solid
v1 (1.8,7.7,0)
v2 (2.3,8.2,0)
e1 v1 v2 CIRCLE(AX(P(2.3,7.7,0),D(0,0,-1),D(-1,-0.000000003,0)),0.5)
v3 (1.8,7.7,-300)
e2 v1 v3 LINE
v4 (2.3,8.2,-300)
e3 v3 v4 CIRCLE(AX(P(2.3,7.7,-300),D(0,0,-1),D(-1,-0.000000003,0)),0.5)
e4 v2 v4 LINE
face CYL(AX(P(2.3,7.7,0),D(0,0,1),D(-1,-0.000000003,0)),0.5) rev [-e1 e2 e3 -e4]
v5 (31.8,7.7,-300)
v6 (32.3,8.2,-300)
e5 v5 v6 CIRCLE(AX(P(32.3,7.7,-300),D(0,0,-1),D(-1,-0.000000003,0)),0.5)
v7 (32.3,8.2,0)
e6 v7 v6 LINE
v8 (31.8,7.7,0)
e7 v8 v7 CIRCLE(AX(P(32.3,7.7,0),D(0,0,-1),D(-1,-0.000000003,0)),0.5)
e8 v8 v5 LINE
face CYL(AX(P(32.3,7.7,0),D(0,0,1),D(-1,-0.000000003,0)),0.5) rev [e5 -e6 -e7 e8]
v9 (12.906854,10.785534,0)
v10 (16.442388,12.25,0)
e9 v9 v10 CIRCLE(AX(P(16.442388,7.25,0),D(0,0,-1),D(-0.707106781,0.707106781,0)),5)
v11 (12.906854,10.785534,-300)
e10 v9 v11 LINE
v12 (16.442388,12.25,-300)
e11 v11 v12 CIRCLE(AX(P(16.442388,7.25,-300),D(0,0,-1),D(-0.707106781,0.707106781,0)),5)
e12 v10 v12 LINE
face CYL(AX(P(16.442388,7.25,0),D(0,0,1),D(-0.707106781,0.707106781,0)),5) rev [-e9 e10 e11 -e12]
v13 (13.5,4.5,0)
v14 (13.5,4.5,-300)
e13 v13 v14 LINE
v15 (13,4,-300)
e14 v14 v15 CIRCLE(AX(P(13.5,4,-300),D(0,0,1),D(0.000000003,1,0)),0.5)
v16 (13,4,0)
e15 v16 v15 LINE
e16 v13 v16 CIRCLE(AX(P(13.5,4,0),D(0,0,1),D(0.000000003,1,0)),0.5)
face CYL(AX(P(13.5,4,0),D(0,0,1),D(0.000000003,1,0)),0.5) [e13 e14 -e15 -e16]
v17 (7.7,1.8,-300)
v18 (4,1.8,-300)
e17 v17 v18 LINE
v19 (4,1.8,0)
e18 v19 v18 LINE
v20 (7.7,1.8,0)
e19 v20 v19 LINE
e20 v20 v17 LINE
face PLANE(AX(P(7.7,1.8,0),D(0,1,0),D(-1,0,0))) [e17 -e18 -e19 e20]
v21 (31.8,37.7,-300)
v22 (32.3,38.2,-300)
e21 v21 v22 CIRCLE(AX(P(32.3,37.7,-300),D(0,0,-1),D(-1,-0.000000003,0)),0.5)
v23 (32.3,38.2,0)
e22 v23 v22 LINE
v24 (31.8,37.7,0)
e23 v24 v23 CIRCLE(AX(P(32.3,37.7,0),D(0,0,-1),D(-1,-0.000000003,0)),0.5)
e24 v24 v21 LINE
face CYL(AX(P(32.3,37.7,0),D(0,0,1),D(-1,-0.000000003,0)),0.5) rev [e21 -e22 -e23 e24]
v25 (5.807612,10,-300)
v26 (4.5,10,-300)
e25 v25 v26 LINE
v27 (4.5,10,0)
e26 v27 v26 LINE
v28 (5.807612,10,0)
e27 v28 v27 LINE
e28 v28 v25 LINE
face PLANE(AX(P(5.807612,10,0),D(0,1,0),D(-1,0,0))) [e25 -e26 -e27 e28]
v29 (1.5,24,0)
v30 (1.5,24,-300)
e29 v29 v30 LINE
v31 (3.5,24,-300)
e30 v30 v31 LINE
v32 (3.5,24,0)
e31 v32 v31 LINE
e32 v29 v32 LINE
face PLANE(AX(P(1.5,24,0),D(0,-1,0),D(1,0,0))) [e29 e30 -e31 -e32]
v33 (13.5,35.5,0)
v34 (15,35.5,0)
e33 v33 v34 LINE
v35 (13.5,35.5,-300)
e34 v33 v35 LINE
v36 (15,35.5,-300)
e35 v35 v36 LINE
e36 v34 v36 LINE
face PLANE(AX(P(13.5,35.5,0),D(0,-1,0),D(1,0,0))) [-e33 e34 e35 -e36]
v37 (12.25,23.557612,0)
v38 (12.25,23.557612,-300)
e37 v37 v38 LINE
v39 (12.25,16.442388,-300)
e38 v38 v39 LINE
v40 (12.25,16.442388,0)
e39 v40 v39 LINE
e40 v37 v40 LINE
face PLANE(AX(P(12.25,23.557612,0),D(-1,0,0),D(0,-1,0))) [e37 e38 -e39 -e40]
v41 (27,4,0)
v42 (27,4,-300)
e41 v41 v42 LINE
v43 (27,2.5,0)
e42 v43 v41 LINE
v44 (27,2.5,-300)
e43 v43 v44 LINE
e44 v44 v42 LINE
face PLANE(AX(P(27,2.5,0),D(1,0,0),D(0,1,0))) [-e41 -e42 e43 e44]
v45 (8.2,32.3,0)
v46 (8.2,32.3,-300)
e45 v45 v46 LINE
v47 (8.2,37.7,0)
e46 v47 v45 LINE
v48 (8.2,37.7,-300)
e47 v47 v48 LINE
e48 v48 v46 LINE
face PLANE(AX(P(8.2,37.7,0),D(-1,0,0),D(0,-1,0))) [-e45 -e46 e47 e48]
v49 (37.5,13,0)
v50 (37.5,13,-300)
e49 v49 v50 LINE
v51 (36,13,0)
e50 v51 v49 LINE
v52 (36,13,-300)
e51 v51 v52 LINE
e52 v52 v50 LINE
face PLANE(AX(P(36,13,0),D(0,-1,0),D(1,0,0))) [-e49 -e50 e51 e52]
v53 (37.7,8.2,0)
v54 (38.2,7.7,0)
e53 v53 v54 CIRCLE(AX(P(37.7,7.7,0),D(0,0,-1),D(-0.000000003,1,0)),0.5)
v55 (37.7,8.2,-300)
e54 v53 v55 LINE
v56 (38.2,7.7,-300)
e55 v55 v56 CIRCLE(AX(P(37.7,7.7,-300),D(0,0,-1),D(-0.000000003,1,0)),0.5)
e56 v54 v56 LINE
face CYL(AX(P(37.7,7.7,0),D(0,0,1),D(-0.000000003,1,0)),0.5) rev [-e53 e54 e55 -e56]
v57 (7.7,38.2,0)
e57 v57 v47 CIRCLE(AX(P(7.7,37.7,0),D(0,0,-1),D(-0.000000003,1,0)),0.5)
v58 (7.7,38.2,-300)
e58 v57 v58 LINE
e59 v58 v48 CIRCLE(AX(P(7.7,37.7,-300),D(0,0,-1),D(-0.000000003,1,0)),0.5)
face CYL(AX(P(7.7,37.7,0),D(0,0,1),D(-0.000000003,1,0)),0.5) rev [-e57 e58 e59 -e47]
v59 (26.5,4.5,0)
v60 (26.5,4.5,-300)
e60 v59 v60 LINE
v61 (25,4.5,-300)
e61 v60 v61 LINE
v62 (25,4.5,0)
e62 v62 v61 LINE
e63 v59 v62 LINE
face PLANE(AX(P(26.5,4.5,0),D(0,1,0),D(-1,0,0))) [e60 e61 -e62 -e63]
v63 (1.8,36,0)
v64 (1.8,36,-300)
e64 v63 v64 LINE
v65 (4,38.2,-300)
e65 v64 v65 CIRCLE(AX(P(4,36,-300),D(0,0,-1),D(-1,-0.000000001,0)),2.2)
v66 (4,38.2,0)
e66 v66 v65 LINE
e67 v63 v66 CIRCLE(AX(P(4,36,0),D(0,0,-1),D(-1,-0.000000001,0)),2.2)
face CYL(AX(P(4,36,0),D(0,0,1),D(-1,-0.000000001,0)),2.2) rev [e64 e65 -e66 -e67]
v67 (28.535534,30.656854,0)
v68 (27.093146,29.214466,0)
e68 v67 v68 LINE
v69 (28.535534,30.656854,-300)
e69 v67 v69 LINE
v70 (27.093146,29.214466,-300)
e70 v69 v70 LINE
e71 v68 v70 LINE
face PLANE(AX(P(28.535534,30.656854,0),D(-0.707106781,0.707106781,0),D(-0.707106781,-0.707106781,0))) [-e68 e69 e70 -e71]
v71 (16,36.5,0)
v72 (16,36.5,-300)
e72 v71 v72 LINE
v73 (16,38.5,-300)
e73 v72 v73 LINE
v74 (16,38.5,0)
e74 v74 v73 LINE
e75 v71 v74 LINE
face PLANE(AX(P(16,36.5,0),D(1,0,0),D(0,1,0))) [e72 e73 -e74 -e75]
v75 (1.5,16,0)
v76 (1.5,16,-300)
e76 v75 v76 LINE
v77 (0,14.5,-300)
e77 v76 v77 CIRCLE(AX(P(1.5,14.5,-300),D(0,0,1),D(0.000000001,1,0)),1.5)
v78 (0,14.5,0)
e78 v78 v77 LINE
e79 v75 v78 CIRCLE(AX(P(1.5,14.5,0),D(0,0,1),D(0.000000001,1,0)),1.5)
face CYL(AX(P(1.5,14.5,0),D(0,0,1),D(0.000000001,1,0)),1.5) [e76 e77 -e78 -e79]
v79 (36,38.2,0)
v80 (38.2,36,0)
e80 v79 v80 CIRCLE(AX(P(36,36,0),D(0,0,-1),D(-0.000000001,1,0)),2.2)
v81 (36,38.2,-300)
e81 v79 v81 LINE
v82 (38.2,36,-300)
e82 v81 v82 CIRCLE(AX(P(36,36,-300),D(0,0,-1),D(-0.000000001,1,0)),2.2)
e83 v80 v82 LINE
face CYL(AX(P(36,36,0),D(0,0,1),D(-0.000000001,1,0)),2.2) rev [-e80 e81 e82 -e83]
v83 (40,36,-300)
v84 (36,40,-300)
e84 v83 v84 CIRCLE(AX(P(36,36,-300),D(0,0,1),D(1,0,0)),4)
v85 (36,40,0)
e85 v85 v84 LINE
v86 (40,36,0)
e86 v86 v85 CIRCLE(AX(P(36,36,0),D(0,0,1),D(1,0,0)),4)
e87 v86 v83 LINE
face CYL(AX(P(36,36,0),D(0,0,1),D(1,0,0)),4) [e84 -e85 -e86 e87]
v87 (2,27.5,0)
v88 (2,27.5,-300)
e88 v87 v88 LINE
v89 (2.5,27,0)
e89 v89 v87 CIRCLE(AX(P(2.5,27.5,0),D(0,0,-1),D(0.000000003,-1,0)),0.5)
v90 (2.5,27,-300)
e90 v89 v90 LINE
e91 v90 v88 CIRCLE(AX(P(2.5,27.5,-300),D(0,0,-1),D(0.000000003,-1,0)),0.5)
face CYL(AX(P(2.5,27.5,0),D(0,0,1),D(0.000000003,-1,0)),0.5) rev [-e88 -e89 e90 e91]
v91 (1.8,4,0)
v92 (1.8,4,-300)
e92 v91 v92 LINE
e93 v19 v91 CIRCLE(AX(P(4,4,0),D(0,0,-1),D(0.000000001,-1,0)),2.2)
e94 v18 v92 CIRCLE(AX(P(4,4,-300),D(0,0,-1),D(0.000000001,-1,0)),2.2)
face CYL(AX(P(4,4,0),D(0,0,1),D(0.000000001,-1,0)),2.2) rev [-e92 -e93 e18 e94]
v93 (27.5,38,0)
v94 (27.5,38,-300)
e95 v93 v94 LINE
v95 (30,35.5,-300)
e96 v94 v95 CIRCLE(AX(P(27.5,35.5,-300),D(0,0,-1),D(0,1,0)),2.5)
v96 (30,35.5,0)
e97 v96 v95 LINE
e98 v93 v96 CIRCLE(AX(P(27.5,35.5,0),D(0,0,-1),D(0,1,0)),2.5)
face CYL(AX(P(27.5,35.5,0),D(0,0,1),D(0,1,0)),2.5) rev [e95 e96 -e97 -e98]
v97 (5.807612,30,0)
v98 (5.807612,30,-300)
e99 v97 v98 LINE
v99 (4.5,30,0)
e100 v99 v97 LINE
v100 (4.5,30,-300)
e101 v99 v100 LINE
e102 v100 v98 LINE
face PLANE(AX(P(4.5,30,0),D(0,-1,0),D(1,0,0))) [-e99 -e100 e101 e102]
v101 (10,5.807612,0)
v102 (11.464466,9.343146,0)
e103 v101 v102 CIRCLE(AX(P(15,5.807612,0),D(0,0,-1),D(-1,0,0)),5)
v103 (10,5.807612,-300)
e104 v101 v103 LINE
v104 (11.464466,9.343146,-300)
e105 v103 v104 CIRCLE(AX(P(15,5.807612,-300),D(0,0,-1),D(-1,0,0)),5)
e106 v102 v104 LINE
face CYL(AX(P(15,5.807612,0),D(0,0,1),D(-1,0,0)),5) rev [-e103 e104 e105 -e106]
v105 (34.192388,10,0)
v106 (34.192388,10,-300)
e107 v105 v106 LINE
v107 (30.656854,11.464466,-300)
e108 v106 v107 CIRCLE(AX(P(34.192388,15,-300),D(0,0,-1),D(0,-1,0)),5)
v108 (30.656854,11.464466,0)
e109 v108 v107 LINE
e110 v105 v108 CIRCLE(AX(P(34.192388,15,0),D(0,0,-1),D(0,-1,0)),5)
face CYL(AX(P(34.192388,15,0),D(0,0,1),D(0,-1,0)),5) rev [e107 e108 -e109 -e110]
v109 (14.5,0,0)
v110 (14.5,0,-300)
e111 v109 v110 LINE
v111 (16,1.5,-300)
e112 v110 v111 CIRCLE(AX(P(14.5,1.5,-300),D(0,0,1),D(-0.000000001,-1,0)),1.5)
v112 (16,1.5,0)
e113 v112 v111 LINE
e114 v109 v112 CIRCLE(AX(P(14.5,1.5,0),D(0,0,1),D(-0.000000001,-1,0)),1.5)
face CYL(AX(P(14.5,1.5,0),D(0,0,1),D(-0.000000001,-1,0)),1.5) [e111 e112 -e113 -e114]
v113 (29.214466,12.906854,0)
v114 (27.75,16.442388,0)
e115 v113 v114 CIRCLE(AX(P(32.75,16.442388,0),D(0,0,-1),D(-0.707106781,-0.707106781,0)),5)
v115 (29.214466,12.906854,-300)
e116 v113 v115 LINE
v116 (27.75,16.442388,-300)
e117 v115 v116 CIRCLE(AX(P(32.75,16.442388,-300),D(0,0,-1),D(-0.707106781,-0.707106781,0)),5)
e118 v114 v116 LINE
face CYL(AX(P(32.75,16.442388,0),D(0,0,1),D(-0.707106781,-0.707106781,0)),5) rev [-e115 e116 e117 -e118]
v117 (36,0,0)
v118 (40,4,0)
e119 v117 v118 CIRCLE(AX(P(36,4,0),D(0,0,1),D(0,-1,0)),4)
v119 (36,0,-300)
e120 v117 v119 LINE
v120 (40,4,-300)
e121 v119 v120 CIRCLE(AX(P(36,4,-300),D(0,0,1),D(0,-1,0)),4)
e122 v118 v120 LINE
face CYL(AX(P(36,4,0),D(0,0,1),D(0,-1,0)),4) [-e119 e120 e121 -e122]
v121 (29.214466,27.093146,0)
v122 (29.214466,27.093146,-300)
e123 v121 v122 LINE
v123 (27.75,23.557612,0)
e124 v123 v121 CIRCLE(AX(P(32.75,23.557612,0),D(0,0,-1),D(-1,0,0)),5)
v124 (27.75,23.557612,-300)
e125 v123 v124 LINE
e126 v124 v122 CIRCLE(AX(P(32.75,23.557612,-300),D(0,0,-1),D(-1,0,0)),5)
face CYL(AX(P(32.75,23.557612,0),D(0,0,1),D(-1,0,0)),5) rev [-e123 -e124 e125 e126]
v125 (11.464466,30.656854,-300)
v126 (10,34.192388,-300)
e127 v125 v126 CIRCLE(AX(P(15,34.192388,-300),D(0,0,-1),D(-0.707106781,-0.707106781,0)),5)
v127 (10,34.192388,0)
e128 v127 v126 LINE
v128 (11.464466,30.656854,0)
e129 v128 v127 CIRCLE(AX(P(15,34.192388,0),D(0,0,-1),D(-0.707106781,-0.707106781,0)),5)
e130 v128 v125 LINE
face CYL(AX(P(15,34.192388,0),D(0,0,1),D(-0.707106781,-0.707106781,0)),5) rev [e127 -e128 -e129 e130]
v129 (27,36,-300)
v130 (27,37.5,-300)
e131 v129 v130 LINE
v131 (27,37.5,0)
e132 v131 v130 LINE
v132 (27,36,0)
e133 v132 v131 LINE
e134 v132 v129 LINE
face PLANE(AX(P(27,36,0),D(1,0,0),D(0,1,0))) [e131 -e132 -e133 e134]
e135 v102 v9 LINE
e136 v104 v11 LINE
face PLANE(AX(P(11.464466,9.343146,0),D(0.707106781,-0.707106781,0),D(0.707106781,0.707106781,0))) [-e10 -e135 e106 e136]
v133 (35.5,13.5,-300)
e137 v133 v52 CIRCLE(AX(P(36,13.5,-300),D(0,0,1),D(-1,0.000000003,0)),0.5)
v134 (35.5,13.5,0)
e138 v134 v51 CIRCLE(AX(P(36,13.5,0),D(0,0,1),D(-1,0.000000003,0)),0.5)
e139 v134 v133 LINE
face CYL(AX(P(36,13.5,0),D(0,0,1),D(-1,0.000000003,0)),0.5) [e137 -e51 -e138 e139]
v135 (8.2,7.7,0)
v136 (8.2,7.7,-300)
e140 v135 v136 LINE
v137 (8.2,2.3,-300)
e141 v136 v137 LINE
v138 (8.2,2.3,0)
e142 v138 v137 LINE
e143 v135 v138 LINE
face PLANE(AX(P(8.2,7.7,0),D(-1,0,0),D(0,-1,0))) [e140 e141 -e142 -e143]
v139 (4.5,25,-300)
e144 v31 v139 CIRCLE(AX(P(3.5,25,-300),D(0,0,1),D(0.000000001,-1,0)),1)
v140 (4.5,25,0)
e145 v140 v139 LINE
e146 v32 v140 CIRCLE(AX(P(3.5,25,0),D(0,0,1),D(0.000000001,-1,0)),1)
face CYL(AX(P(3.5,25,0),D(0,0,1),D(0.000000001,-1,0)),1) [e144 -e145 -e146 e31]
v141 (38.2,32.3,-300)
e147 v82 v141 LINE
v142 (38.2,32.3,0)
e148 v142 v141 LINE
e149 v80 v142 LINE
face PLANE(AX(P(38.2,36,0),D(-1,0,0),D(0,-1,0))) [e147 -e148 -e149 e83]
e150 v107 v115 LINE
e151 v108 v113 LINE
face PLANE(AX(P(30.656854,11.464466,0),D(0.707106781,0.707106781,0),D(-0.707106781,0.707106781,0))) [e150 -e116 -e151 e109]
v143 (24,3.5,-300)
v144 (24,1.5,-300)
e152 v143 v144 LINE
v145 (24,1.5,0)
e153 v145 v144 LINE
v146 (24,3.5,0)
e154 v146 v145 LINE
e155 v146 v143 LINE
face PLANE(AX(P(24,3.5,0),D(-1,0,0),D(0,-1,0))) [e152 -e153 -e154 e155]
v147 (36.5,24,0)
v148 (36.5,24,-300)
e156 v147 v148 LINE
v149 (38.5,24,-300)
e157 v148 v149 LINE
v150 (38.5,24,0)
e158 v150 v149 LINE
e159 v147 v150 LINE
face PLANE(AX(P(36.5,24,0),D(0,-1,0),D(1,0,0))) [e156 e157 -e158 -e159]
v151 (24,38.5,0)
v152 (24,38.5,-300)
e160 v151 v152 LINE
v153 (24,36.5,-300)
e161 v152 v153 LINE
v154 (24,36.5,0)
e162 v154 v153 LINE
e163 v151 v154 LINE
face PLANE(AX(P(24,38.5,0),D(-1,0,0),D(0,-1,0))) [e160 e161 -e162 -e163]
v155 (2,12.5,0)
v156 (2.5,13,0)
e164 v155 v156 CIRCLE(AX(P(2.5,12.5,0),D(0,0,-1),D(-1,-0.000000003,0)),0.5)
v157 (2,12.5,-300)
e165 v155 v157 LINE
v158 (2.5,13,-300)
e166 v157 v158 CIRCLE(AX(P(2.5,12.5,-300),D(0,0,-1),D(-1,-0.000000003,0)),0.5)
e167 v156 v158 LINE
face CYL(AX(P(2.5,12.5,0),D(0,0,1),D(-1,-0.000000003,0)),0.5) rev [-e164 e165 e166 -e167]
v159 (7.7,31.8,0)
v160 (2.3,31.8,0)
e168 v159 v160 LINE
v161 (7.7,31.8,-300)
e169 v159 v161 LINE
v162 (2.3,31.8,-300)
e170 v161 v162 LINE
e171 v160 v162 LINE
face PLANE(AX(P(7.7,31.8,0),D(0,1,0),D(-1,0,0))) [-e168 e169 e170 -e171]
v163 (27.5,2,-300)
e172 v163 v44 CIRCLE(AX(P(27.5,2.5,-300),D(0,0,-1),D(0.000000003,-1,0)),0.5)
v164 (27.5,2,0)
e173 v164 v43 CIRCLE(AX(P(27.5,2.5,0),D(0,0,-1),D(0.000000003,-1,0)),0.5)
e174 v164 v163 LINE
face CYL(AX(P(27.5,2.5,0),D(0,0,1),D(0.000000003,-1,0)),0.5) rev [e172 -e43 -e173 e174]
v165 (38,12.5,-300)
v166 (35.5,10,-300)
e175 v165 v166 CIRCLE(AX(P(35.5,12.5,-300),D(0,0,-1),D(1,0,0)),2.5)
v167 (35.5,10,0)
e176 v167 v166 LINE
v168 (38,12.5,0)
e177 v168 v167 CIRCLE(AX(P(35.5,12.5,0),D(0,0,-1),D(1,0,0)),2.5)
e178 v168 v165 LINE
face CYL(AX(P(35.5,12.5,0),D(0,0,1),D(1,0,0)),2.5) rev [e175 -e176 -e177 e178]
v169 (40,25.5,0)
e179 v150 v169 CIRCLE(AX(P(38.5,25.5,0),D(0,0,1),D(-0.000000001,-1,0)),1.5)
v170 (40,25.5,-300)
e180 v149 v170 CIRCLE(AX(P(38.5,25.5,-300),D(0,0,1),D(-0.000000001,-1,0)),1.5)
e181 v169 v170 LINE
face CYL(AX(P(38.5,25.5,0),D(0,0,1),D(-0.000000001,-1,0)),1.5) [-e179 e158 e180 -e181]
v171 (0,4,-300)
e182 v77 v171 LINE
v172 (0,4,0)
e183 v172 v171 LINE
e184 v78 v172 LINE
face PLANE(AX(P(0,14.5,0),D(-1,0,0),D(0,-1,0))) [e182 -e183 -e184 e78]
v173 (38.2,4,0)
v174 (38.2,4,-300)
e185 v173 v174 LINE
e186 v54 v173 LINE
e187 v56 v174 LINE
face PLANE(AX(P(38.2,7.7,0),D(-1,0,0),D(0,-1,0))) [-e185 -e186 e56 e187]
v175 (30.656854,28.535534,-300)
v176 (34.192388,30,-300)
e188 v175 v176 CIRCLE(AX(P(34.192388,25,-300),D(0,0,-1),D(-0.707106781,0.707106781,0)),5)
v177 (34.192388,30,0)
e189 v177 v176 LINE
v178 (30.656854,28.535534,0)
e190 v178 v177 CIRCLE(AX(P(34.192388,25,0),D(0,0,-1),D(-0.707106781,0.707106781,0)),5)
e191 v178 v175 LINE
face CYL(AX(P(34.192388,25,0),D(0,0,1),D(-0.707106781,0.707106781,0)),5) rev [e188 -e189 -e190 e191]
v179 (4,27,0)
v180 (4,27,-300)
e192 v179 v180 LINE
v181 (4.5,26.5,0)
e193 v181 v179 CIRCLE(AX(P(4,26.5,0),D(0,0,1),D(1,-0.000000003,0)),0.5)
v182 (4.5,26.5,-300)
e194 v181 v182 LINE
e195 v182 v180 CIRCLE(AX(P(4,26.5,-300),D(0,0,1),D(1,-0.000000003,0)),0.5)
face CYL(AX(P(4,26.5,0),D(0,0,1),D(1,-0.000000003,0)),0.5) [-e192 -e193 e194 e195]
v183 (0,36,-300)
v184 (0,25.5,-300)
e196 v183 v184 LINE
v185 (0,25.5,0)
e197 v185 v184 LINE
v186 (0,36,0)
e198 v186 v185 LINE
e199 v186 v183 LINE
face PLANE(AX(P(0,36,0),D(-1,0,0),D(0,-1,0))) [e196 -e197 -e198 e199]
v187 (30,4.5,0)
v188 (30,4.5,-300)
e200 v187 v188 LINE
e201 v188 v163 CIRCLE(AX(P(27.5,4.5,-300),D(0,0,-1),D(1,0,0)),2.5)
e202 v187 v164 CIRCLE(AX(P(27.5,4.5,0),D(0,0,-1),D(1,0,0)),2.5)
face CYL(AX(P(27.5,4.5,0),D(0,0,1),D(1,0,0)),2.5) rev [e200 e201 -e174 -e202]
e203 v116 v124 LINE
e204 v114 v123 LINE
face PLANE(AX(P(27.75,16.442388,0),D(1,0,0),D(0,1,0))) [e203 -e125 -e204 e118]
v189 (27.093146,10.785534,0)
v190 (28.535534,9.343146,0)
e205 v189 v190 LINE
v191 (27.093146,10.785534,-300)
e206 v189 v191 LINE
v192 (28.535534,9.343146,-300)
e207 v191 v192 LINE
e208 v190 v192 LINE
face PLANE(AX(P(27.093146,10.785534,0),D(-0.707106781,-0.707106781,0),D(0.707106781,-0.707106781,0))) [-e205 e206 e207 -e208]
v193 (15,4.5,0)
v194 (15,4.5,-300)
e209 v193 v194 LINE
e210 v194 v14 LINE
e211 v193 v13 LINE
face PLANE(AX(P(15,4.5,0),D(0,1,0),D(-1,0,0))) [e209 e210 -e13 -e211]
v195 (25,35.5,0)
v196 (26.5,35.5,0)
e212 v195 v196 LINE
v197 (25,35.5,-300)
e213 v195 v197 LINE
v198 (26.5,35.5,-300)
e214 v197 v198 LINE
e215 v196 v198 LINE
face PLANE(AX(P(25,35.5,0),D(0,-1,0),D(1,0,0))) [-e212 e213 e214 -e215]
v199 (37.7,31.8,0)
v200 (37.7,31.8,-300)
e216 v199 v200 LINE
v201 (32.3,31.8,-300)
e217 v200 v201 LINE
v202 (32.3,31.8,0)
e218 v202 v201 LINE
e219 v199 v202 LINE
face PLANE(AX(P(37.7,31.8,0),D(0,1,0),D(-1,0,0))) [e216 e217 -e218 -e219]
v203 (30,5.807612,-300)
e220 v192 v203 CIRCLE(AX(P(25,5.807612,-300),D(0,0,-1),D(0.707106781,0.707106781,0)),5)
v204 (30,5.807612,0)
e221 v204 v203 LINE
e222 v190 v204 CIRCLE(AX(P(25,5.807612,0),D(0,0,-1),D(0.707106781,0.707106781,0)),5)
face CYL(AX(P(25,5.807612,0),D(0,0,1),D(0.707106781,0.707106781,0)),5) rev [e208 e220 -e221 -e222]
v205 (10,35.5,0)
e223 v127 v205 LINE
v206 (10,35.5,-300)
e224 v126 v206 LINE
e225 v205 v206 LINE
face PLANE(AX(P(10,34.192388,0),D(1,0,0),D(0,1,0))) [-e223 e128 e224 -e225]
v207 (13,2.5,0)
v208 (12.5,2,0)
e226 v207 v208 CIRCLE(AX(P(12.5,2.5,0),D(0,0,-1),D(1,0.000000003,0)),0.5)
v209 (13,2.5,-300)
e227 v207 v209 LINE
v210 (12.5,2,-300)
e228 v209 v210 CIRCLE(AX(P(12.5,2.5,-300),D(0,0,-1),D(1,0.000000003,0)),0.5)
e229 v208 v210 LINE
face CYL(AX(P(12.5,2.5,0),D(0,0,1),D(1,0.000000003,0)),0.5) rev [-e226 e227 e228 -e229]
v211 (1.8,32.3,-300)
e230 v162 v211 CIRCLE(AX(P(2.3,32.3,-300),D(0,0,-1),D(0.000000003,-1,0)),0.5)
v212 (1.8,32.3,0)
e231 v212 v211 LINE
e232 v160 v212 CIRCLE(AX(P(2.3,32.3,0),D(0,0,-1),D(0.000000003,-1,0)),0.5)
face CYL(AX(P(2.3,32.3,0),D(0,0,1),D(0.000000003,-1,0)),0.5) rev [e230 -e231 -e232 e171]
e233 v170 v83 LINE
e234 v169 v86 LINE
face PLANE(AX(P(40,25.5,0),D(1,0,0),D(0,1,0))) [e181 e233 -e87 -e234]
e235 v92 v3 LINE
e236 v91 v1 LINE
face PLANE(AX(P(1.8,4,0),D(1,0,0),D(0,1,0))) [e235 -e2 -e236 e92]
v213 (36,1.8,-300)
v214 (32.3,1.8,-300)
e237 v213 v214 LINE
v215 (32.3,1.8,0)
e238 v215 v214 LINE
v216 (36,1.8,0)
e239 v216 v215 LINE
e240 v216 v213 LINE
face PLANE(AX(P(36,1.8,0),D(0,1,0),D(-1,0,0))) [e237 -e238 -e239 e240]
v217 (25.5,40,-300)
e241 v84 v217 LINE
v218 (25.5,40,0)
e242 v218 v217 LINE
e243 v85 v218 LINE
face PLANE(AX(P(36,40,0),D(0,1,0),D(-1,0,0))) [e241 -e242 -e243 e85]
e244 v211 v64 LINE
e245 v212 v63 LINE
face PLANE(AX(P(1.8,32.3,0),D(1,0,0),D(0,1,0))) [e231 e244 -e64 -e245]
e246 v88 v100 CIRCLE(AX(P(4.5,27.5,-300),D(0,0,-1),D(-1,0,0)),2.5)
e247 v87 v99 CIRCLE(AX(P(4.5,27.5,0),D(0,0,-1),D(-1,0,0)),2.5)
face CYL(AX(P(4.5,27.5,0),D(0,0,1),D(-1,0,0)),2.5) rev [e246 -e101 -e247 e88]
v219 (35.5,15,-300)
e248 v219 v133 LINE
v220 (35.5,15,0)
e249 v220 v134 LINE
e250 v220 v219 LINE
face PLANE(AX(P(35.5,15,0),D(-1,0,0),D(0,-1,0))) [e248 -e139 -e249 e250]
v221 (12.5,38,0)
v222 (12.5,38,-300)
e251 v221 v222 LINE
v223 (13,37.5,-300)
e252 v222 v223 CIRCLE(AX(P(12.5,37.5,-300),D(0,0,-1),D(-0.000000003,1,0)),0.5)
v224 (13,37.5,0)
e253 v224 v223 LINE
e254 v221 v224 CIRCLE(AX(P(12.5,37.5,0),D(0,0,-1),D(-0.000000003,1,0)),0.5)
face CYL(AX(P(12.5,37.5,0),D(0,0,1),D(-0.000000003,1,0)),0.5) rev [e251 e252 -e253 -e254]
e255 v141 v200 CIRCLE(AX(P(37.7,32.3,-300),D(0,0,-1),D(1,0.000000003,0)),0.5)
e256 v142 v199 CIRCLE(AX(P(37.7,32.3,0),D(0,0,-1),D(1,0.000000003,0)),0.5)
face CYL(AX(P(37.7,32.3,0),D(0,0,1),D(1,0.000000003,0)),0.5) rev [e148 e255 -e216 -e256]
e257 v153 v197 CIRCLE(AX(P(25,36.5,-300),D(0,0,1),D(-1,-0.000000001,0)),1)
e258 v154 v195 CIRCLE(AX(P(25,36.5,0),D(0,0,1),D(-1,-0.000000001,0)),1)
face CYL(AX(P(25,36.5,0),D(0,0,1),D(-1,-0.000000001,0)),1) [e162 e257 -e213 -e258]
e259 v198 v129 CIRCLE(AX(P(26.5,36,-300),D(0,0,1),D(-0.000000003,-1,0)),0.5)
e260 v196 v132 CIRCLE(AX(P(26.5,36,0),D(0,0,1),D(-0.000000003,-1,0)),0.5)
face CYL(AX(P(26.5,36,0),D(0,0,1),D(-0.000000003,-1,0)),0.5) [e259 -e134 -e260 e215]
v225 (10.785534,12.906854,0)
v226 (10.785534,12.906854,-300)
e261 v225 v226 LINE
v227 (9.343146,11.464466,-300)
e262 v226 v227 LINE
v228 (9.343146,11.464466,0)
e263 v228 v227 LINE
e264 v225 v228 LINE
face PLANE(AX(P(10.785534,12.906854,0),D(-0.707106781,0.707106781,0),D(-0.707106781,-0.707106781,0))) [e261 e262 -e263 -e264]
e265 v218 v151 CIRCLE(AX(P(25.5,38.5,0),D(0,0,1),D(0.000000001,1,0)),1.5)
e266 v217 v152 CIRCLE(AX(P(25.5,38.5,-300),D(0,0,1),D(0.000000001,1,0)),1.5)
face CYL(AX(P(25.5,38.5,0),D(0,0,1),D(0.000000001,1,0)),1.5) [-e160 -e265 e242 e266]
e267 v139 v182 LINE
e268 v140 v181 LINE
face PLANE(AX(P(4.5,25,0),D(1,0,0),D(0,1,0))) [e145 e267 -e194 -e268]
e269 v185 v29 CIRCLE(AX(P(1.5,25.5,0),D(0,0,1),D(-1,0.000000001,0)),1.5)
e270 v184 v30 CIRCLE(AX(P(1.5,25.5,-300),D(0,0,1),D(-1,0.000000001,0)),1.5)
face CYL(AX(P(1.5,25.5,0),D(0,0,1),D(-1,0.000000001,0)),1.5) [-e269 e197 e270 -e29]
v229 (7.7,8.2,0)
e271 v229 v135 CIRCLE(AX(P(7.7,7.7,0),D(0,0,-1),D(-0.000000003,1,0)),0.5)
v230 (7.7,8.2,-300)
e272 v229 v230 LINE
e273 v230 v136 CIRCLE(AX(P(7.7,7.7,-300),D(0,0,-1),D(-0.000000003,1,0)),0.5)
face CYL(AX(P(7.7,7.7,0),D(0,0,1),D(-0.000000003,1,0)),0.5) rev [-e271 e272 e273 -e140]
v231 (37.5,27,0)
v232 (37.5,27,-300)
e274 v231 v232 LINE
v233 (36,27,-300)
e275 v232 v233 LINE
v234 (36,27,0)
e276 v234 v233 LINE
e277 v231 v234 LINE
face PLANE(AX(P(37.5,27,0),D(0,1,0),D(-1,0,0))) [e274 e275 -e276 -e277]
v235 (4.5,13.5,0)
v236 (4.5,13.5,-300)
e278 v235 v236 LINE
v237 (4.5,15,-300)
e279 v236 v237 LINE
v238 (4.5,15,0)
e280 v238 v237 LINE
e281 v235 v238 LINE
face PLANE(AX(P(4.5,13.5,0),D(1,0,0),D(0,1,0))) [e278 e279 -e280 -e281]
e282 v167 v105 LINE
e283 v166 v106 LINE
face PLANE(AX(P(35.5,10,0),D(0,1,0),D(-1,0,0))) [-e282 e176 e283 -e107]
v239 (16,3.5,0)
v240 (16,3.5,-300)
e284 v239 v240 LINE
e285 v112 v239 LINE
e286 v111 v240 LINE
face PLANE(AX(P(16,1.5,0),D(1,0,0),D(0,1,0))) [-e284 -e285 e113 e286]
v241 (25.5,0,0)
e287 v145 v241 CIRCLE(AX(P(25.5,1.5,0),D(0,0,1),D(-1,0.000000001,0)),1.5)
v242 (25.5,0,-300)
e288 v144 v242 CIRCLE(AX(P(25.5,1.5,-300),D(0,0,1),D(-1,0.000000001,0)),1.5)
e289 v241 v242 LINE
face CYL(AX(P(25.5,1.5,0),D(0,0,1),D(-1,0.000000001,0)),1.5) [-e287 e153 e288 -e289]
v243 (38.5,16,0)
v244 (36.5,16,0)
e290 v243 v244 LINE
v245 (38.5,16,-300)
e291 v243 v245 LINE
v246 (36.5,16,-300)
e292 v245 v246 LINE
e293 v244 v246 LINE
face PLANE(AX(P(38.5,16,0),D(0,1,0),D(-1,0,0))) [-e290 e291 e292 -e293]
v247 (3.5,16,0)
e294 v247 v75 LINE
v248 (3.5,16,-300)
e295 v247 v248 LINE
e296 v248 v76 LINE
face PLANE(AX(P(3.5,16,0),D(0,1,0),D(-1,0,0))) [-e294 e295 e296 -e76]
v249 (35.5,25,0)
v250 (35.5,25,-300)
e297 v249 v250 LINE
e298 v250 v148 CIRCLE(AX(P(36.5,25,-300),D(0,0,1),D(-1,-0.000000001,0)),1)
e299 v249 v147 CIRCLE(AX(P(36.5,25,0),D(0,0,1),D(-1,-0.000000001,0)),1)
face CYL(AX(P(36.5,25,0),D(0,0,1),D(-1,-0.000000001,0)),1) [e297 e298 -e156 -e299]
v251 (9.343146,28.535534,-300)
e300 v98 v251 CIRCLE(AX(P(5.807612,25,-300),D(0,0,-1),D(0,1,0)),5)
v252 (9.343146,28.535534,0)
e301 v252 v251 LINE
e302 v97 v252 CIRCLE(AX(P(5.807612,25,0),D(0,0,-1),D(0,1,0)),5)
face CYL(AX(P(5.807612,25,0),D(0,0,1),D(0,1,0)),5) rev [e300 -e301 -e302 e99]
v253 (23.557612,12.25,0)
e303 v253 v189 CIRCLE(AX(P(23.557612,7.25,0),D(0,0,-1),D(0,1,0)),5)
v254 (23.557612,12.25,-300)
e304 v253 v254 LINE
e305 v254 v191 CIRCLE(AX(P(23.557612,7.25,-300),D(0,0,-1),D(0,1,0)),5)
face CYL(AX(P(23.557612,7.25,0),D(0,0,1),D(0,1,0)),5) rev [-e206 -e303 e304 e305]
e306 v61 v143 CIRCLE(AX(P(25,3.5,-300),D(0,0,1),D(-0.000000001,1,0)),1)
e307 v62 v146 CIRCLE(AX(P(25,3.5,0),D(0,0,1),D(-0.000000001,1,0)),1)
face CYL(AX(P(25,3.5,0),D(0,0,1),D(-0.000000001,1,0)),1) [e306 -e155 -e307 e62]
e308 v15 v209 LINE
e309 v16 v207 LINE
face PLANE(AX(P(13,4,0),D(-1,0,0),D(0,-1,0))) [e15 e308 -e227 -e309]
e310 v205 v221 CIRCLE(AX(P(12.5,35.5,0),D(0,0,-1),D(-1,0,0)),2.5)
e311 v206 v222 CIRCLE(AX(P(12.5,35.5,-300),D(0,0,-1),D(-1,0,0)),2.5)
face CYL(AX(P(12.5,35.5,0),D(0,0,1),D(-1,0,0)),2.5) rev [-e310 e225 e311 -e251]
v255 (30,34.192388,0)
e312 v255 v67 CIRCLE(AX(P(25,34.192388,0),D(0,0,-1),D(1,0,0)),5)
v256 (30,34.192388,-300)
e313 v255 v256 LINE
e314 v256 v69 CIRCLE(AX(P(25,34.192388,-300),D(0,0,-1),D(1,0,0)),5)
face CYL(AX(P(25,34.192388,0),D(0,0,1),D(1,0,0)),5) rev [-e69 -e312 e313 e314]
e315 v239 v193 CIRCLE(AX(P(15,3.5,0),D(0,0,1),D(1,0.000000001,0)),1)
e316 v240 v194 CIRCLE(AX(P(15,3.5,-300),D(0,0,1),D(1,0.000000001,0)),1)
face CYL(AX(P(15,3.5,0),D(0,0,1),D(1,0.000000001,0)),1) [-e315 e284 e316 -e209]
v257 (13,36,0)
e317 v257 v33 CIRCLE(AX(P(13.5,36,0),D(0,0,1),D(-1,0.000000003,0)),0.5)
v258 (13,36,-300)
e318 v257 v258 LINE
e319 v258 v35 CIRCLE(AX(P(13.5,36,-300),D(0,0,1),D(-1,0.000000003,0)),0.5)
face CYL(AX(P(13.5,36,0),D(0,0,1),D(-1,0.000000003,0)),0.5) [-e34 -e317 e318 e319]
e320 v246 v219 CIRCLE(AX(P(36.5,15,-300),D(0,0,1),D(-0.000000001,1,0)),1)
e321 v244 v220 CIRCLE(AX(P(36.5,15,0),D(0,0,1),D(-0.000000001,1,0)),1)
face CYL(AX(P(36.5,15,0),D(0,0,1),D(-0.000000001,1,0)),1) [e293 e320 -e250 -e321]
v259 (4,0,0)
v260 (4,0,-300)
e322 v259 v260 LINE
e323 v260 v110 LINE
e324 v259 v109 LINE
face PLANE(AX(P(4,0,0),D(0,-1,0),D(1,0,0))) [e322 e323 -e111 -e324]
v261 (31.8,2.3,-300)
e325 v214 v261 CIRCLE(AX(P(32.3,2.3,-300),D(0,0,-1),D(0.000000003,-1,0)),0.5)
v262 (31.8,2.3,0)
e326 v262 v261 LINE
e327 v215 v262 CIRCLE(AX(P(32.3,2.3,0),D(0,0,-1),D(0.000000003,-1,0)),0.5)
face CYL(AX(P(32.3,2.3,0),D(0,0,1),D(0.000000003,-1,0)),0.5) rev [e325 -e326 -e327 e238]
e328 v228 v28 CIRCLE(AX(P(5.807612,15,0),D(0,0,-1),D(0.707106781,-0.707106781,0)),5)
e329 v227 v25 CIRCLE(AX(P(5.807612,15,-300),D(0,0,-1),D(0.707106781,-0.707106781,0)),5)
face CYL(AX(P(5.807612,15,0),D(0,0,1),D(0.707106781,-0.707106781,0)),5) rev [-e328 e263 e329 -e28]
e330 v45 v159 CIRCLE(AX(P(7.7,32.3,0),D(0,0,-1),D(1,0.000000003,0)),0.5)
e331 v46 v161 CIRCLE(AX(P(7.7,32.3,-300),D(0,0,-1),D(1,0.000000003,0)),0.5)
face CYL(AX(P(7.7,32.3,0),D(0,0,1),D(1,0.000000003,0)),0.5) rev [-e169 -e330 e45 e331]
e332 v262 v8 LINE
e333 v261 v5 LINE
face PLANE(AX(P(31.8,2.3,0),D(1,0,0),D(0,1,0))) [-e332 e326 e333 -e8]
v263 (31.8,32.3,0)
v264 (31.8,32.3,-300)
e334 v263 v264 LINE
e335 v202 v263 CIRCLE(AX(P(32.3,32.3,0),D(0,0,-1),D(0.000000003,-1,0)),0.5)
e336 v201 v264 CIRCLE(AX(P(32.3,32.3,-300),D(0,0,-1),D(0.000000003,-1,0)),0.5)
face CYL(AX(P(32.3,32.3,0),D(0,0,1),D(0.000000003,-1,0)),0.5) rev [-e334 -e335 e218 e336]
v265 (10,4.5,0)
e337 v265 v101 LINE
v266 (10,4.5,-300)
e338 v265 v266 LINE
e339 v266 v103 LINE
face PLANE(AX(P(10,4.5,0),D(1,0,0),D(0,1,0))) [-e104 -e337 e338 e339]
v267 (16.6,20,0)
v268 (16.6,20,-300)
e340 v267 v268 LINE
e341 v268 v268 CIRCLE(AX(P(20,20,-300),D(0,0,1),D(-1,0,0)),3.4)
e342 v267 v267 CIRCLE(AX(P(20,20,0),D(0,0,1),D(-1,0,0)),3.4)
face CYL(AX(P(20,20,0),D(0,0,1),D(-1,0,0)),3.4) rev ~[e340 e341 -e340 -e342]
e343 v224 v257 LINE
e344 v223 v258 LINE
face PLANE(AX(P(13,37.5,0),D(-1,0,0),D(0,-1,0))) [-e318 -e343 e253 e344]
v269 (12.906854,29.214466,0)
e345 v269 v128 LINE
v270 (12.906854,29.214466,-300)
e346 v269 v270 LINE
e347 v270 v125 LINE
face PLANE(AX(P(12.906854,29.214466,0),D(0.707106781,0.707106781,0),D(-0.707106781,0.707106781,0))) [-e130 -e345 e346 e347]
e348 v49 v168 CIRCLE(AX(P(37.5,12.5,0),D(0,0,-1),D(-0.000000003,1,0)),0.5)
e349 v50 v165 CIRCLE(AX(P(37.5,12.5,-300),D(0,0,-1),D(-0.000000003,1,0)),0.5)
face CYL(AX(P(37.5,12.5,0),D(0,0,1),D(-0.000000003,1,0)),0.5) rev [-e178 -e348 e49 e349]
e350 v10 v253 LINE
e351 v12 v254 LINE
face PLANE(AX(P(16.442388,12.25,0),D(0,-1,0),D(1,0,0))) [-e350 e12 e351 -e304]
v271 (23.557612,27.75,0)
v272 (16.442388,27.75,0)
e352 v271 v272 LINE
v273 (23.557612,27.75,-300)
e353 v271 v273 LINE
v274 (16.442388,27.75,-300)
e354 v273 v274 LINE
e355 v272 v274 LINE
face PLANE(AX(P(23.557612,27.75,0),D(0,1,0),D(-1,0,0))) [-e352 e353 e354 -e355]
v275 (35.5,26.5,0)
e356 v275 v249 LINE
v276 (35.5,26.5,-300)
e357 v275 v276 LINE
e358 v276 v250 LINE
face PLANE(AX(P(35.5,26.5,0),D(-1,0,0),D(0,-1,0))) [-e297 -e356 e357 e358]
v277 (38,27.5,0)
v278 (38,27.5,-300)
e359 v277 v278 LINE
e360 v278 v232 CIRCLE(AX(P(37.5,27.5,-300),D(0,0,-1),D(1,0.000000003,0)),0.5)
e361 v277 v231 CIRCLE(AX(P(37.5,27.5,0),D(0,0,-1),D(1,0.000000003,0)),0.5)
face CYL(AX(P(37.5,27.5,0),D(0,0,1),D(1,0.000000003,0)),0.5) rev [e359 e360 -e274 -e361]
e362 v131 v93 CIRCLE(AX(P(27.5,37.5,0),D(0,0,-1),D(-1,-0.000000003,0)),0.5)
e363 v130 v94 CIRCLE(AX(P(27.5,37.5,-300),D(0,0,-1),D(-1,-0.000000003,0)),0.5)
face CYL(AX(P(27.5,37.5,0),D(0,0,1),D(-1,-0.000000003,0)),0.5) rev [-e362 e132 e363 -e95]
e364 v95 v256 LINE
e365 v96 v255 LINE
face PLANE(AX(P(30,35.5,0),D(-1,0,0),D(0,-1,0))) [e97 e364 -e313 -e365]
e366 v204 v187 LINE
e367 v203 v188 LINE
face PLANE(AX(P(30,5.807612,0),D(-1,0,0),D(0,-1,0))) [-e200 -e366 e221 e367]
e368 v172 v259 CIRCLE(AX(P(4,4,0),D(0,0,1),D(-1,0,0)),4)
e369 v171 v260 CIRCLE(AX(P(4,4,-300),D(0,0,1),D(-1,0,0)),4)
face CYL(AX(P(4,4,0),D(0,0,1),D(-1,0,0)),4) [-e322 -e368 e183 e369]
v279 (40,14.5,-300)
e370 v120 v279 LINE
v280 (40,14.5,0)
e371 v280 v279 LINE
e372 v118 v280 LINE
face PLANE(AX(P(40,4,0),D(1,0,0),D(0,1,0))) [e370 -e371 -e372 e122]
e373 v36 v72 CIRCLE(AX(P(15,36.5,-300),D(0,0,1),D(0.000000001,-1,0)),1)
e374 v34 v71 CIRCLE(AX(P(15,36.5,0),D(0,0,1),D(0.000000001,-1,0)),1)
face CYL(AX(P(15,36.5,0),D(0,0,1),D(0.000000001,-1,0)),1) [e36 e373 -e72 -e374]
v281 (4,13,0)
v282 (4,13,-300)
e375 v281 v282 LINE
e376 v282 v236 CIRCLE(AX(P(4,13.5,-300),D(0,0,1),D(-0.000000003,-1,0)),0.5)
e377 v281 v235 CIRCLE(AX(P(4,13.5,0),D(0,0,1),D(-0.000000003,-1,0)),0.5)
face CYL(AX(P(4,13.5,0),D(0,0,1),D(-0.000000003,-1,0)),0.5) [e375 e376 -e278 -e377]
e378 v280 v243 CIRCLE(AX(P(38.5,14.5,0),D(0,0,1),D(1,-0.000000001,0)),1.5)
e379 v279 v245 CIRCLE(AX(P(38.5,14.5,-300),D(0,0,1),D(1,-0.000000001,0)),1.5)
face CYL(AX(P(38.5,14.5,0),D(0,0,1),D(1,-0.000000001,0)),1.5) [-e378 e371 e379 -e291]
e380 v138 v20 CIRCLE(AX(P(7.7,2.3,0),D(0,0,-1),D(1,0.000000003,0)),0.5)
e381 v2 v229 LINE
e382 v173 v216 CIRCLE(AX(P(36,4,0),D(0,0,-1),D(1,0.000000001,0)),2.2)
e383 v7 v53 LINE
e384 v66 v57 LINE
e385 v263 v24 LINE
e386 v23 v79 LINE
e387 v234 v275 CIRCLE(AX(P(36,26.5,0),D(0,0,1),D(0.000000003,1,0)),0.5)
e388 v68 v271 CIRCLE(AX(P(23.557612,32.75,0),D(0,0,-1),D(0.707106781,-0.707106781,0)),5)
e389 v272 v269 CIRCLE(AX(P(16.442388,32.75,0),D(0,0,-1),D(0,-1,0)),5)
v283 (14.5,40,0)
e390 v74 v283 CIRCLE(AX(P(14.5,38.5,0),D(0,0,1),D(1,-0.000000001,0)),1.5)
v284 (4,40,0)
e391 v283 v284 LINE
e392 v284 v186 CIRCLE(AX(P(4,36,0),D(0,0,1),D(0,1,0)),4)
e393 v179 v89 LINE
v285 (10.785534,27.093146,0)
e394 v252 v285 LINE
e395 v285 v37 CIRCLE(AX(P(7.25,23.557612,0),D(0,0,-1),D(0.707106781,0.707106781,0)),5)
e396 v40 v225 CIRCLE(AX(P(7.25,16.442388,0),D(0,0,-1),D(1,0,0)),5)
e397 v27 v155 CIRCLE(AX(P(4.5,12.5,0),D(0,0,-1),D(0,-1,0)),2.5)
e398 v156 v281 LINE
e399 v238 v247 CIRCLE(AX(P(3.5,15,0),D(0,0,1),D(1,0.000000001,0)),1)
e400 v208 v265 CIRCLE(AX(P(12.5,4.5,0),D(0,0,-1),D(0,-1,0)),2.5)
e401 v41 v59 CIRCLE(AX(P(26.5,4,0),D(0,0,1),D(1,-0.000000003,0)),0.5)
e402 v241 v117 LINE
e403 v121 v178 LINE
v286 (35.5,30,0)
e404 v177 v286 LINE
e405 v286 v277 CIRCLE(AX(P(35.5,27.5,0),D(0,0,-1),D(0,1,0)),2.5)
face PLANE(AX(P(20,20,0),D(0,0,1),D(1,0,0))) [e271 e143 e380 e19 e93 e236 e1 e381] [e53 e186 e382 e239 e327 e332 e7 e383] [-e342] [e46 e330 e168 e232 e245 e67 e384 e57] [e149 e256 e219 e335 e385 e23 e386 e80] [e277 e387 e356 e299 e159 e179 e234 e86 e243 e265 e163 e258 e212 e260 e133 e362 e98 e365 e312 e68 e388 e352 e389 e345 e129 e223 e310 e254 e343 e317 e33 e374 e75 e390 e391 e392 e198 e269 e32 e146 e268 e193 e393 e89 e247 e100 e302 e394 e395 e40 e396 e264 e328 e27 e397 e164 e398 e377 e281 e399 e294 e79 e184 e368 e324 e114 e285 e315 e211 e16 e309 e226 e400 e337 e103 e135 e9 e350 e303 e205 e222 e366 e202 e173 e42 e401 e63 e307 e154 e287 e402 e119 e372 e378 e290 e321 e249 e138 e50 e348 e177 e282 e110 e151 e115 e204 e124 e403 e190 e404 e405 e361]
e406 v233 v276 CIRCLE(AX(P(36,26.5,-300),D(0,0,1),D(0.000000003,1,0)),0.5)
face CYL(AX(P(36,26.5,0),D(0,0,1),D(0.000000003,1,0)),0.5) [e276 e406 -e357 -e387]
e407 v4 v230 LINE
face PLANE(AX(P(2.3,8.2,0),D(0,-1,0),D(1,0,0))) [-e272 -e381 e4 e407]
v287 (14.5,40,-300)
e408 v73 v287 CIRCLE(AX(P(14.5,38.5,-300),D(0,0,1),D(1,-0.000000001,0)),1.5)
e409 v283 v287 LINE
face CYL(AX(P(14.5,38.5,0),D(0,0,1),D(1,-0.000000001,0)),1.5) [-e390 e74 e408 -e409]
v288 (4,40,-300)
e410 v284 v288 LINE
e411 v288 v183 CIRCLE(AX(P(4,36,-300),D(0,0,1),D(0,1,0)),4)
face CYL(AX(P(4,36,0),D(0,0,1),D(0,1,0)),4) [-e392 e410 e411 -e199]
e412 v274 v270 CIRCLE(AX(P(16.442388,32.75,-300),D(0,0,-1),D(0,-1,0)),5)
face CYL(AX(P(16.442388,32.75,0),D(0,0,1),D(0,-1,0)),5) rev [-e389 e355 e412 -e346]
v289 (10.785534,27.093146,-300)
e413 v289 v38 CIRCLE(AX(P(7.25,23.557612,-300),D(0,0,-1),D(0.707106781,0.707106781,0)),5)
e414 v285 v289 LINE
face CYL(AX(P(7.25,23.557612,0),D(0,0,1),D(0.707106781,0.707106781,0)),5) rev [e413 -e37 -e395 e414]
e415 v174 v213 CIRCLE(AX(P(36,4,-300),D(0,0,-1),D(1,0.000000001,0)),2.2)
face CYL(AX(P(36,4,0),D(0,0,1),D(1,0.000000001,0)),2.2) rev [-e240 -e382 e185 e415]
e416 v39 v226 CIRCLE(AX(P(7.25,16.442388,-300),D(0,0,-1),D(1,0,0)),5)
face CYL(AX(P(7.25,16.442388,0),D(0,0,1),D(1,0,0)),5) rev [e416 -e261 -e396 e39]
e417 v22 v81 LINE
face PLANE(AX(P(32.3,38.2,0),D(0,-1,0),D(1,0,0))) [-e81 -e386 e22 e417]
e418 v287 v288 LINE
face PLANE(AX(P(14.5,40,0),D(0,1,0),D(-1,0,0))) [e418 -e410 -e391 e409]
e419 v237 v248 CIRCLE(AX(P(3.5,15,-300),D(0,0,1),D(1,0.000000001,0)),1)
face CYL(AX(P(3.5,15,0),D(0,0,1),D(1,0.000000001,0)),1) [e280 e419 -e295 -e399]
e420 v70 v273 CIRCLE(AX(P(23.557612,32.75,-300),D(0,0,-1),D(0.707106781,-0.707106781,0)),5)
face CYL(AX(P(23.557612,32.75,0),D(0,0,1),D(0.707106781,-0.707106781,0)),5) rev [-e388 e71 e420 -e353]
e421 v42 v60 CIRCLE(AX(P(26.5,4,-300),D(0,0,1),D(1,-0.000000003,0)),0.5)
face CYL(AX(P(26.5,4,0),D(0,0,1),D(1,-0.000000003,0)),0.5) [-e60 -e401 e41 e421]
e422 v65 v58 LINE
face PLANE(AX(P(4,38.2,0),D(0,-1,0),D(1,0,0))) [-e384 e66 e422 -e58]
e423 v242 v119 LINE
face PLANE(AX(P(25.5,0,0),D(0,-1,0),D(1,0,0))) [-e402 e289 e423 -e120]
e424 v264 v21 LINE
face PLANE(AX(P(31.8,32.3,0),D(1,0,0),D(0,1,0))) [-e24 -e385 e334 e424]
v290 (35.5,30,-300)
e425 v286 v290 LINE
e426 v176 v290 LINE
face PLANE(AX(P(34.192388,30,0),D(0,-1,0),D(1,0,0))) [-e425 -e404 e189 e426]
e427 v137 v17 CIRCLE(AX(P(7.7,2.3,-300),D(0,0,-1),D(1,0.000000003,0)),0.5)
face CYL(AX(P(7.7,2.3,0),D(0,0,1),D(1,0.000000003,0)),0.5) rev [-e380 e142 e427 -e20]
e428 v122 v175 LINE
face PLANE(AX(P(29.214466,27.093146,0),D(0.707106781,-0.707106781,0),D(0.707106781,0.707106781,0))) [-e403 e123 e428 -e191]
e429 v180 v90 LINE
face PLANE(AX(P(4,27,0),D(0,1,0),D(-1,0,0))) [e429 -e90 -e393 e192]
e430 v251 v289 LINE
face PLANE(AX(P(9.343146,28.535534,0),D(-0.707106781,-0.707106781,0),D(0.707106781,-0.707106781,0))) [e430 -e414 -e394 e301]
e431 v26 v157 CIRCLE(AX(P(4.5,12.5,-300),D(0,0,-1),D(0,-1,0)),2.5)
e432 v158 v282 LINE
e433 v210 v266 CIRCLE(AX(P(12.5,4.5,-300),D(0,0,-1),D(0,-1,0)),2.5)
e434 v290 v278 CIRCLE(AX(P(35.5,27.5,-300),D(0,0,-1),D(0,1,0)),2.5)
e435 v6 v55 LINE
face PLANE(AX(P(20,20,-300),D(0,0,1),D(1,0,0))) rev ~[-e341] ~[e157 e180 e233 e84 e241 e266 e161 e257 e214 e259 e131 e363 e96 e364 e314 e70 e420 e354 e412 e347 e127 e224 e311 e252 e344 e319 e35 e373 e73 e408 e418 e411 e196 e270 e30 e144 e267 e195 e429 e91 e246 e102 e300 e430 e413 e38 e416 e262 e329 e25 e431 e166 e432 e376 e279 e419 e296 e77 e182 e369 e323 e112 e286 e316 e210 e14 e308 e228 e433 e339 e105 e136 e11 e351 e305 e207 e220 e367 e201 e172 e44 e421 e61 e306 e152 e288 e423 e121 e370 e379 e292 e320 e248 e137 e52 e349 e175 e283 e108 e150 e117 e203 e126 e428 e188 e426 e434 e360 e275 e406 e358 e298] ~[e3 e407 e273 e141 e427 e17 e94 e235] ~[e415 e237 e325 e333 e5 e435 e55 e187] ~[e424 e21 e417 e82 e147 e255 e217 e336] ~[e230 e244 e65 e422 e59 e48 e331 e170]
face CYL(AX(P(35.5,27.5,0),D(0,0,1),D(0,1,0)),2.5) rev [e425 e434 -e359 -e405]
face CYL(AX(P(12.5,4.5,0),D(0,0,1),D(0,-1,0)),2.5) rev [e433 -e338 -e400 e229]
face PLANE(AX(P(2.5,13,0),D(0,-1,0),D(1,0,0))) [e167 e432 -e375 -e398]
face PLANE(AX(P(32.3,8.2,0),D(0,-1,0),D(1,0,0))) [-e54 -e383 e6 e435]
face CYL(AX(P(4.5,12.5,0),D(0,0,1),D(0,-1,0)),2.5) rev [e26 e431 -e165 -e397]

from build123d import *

# Parameters (mm, degrees)
SKETCH1_R           = 3.4
BOSS_EXTRUDE1_DEPTH = 300


with BuildPart() as part:
    # Sketch1 → Boss-Extrude1 (new body)
    with BuildSketch(Plane.XY):
        with BuildLine():
            Line((0, 36), (0, 25.5))
            ThreePointArc((0, 25.5), (0.439339828, 24.439339828), (1.5, 24))
            Line((1.5, 24), (3.5, 24))
            ThreePointArc((3.5, 24), (4.207106781, 24.292893219), (4.5, 25))
            Line((4.5, 25), (4.5, 26.5))
            ThreePointArc((4.5, 26.5), (4.353553391, 26.853553391), (4, 27))
            Line((4, 27), (2.5, 27))
            ThreePointArc((2.5, 27), (2.146446609, 27.146446609), (2, 27.5))
            ThreePointArc((2, 27.5), (2.732233047, 29.267766953), (4.5, 30))
            Line((4.5, 30), (5.807611845, 30))
            ThreePointArc((5.807611845, 30), (7.721029006, 29.619397663), (9.343145751, 28.535533906))
            Line((9.343145751, 28.535533906), (10.785533906, 27.093145751))
            ThreePointArc((10.785533906, 27.093145751), (11.869397663, 25.471029006), (12.25, 23.557611845))
            Line((12.25, 23.557611845), (12.25, 16.442388155))
            ThreePointArc((12.25, 16.442388155), (11.869397663, 14.528970994), (10.785533906, 12.906854249))
            Line((10.785533906, 12.906854249), (9.343145751, 11.464466094))
            ThreePointArc((9.343145751, 11.464466094), (7.721029006, 10.380602337), (5.807611845, 10))
            Line((5.807611845, 10), (4.5, 10))
            ThreePointArc((4.5, 10), (2.732233047, 10.732233047), (2, 12.5))
            ThreePointArc((2, 12.5), (2.146446609, 12.853553391), (2.5, 13))
            Line((2.5, 13), (4, 13))
            ThreePointArc((4, 13), (4.353553391, 13.146446609), (4.5, 13.5))
            Line((4.5, 13.5), (4.5, 15))
            ThreePointArc((4.5, 15), (4.207106781, 15.707106781), (3.5, 16))
            Line((3.5, 16), (1.5, 16))
            ThreePointArc((1.5, 16), (0.439339828, 15.560660172), (0, 14.5))
            Line((0, 14.5), (0, 4))
            ThreePointArc((0, 4), (1.171572875, 1.171572875), (4, 0))
            Line((4, 0), (14.5, 0))
            ThreePointArc((14.5, 0), (15.560660172, 0.439339828), (16, 1.5))
            Line((16, 1.5), (16, 3.5))
            ThreePointArc((16, 3.5), (15.707106781, 4.207106781), (15, 4.5))
            Line((15, 4.5), (13.5, 4.5))
            ThreePointArc((13.5, 4.5), (13.146446609, 4.353553391), (13, 4))
            Line((13, 4), (13, 2.5))
            ThreePointArc((13, 2.5), (12.853553391, 2.146446609), (12.5, 2))
            ThreePointArc((12.5, 2), (10.732233047, 2.732233047), (10, 4.5))
            Line((10, 4.5), (10, 5.807611845))
            ThreePointArc((10, 5.807611845), (10.380602337, 7.721029006), (11.464466094, 9.343145751))
            Line((11.464466094, 9.343145751), (12.906854249, 10.785533906))
            ThreePointArc((12.906854249, 10.785533906), (14.528970994, 11.869397663), (16.442388155, 12.25))
            Line((16.442388155, 12.25), (23.557611845, 12.25))
            ThreePointArc((23.557611845, 12.25), (25.471029006, 11.869397663), (27.093145751, 10.785533906))
            Line((27.093145751, 10.785533906), (28.535533906, 9.343145751))
            ThreePointArc((28.535533906, 9.343145751), (29.619397663, 7.721029006), (30, 5.807611845))
            Line((30, 5.807611845), (30, 4.5))
            ThreePointArc((30, 4.5), (29.267766953, 2.732233047), (27.5, 2))
            ThreePointArc((27.5, 2), (27.146446609, 2.146446609), (27, 2.5))
            Line((27, 2.5), (27, 4))
            ThreePointArc((27, 4), (26.853553391, 4.353553391), (26.5, 4.5))
            Line((26.5, 4.5), (25, 4.5))
            ThreePointArc((25, 4.5), (24.292893219, 4.207106781), (24, 3.5))
            Line((24, 3.5), (24, 1.5))
            ThreePointArc((24, 1.5), (24.439339828, 0.439339828), (25.5, 0))
            Line((25.5, 0), (36, 0))
            ThreePointArc((36, 0), (38.828427125, 1.171572875), (40, 4))
            Line((40, 4), (40, 14.5))
            ThreePointArc((40, 14.5), (39.560660172, 15.560660172), (38.5, 16))
            Line((38.5, 16), (36.5, 16))
            ThreePointArc((36.5, 16), (35.792893219, 15.707106781), (35.5, 15))
            Line((35.5, 15), (35.5, 13.5))
            ThreePointArc((35.5, 13.5), (35.646446609, 13.146446609), (36, 13))
            Line((36, 13), (37.5, 13))
            ThreePointArc((37.5, 13), (37.853553391, 12.853553391), (38, 12.5))
            ThreePointArc((38, 12.5), (37.267766953, 10.732233047), (35.5, 10))
            Line((35.5, 10), (34.192388155, 10))
            ThreePointArc((34.192388155, 10), (32.278970994, 10.380602337), (30.656854249, 11.464466094))
            Line((30.656854249, 11.464466094), (29.214466094, 12.906854249))
            ThreePointArc((29.214466094, 12.906854249), (28.130602337, 14.528970994), (27.75, 16.442388155))
            Line((27.75, 16.442388155), (27.75, 23.557611845))
            ThreePointArc((27.75, 23.557611845), (28.130602337, 25.471029006), (29.214466094, 27.093145751))
            Line((29.214466094, 27.093145751), (30.656854249, 28.535533906))
            ThreePointArc((30.656854249, 28.535533906), (32.278970994, 29.619397663), (34.192388155, 30))
            Line((34.192388155, 30), (35.5, 30))
            ThreePointArc((35.5, 30), (37.267766953, 29.267766953), (38, 27.5))
            ThreePointArc((38, 27.5), (37.853553391, 27.146446609), (37.5, 27))
            Line((37.5, 27), (36, 27))
            ThreePointArc((36, 27), (35.646446609, 26.853553391), (35.5, 26.5))
            Line((35.5, 26.5), (35.5, 25))
            ThreePointArc((35.5, 25), (35.792893219, 24.292893219), (36.5, 24))
            Line((36.5, 24), (38.5, 24))
            ThreePointArc((38.5, 24), (39.560660172, 24.439339828), (40, 25.5))
            Line((40, 25.5), (40, 36))
            ThreePointArc((40, 36), (38.828427125, 38.828427125), (36, 40))
            Line((36, 40), (25.5, 40))
            ThreePointArc((25.5, 40), (24.439339828, 39.560660172), (24, 38.5))
            Line((24, 38.5), (24, 36.5))
            ThreePointArc((24, 36.5), (24.292893219, 35.792893219), (25, 35.5))
            Line((25, 35.5), (26.5, 35.5))
            ThreePointArc((26.5, 35.5), (26.853553391, 35.646446609), (27, 36))
            Line((27, 36), (27, 37.5))
            ThreePointArc((27, 37.5), (27.146446609, 37.853553391), (27.5, 38))
            ThreePointArc((27.5, 38), (29.267766953, 37.267766953), (30, 35.5))
            Line((30, 35.5), (30, 34.192388155))
            ThreePointArc((30, 34.192388155), (29.619397663, 32.278970994), (28.535533906, 30.656854249))
            Line((28.535533906, 30.656854249), (27.093145751, 29.214466094))
            ThreePointArc((27.093145751, 29.214466094), (25.471029006, 28.130602337), (23.557611845, 27.75))
            Line((23.557611845, 27.75), (16.442388155, 27.75))
            ThreePointArc((16.442388155, 27.75), (14.528970994, 28.130602337), (12.906854249, 29.214466094))
            Line((12.906854249, 29.214466094), (11.464466094, 30.656854249))
            ThreePointArc((11.464466094, 30.656854249), (10.380602337, 32.278970994), (10, 34.192388155))
            Line((10, 34.192388155), (10, 35.5))
            ThreePointArc((10, 35.5), (10.732233047, 37.267766953), (12.5, 38))
            ThreePointArc((12.5, 38), (12.853553391, 37.853553391), (13, 37.5))
            Line((13, 37.5), (13, 36))
            ThreePointArc((13, 36), (13.146446609, 35.646446609), (13.5, 35.5))
            Line((13.5, 35.5), (15, 35.5))
            ThreePointArc((15, 35.5), (15.707106781, 35.792893219), (16, 36.5))
            Line((16, 36.5), (16, 38.5))
            ThreePointArc((16, 38.5), (15.560660172, 39.560660172), (14.5, 40))
            Line((14.5, 40), (4, 40))
            ThreePointArc((4, 40), (1.171572875, 38.828427125), (0, 36))
        make_face()
        with Locations(Location((20, 20, 0), (0, 0, 180))):
            Circle(SKETCH1_R, mode=Mode.SUBTRACT)
        with BuildLine():
            Line((1.8, 4), (1.8, 7.7))
            ThreePointArc((1.8, 7.7), (1.946446609, 8.053553391), (2.3, 8.2))
            Line((2.3, 8.2), (7.7, 8.2))
            ThreePointArc((7.7, 8.2), (8.053553391, 8.053553391), (8.2, 7.7))
            Line((8.2, 7.7), (8.2, 2.3))
            ThreePointArc((8.2, 2.3), (8.053553391, 1.946446609), (7.7, 1.8))
            Line((7.7, 1.8), (4, 1.8))
            ThreePointArc((4, 1.8), (2.444365081, 2.444365081), (1.8, 4))
        make_face(mode=Mode.SUBTRACT)
        with BuildLine():
            Line((4, 38.2), (7.7, 38.2))
            ThreePointArc((7.7, 38.2), (8.053553391, 38.053553391), (8.2, 37.7))
            Line((8.2, 37.7), (8.2, 32.3))
            ThreePointArc((8.2, 32.3), (8.053553391, 31.946446609), (7.7, 31.8))
            Line((7.7, 31.8), (2.3, 31.8))
            ThreePointArc((2.3, 31.8), (1.946446609, 31.946446609), (1.8, 32.3))
            Line((1.8, 32.3), (1.8, 36))
            ThreePointArc((1.8, 36), (2.444365081, 37.555634919), (4, 38.2))
        make_face(mode=Mode.SUBTRACT)
        with BuildLine():
            Line((31.8, 32.3), (31.8, 37.7))
            ThreePointArc((31.8, 37.7), (31.946446609, 38.053553391), (32.3, 38.2))
            Line((32.3, 38.2), (36, 38.2))
            ThreePointArc((36, 38.2), (37.555634919, 37.555634919), (38.2, 36))
            Line((38.2, 36), (38.2, 32.3))
            ThreePointArc((38.2, 32.3), (38.053553391, 31.946446609), (37.7, 31.8))
            Line((37.7, 31.8), (32.3, 31.8))
            ThreePointArc((32.3, 31.8), (31.946446609, 31.946446609), (31.8, 32.3))
        make_face(mode=Mode.SUBTRACT)
        with BuildLine():
            Line((32.3, 8.2), (37.7, 8.2))
            ThreePointArc((37.7, 8.2), (38.053553391, 8.053553391), (38.2, 7.7))
            Line((38.2, 7.7), (38.2, 4))
            ThreePointArc((38.2, 4), (37.555634919, 2.444365081), (36, 1.8))
            Line((36, 1.8), (32.3, 1.8))
            ThreePointArc((32.3, 1.8), (31.946446609, 1.946446609), (31.8, 2.3))
            Line((31.8, 2.3), (31.8, 7.7))
            ThreePointArc((31.8, 7.7), (31.946446609, 8.053553391), (32.3, 8.2))
        make_face(mode=Mode.SUBTRACT)
    extrude(amount=-BOSS_EXTRUDE1_DEPTH)


solid = part.part
